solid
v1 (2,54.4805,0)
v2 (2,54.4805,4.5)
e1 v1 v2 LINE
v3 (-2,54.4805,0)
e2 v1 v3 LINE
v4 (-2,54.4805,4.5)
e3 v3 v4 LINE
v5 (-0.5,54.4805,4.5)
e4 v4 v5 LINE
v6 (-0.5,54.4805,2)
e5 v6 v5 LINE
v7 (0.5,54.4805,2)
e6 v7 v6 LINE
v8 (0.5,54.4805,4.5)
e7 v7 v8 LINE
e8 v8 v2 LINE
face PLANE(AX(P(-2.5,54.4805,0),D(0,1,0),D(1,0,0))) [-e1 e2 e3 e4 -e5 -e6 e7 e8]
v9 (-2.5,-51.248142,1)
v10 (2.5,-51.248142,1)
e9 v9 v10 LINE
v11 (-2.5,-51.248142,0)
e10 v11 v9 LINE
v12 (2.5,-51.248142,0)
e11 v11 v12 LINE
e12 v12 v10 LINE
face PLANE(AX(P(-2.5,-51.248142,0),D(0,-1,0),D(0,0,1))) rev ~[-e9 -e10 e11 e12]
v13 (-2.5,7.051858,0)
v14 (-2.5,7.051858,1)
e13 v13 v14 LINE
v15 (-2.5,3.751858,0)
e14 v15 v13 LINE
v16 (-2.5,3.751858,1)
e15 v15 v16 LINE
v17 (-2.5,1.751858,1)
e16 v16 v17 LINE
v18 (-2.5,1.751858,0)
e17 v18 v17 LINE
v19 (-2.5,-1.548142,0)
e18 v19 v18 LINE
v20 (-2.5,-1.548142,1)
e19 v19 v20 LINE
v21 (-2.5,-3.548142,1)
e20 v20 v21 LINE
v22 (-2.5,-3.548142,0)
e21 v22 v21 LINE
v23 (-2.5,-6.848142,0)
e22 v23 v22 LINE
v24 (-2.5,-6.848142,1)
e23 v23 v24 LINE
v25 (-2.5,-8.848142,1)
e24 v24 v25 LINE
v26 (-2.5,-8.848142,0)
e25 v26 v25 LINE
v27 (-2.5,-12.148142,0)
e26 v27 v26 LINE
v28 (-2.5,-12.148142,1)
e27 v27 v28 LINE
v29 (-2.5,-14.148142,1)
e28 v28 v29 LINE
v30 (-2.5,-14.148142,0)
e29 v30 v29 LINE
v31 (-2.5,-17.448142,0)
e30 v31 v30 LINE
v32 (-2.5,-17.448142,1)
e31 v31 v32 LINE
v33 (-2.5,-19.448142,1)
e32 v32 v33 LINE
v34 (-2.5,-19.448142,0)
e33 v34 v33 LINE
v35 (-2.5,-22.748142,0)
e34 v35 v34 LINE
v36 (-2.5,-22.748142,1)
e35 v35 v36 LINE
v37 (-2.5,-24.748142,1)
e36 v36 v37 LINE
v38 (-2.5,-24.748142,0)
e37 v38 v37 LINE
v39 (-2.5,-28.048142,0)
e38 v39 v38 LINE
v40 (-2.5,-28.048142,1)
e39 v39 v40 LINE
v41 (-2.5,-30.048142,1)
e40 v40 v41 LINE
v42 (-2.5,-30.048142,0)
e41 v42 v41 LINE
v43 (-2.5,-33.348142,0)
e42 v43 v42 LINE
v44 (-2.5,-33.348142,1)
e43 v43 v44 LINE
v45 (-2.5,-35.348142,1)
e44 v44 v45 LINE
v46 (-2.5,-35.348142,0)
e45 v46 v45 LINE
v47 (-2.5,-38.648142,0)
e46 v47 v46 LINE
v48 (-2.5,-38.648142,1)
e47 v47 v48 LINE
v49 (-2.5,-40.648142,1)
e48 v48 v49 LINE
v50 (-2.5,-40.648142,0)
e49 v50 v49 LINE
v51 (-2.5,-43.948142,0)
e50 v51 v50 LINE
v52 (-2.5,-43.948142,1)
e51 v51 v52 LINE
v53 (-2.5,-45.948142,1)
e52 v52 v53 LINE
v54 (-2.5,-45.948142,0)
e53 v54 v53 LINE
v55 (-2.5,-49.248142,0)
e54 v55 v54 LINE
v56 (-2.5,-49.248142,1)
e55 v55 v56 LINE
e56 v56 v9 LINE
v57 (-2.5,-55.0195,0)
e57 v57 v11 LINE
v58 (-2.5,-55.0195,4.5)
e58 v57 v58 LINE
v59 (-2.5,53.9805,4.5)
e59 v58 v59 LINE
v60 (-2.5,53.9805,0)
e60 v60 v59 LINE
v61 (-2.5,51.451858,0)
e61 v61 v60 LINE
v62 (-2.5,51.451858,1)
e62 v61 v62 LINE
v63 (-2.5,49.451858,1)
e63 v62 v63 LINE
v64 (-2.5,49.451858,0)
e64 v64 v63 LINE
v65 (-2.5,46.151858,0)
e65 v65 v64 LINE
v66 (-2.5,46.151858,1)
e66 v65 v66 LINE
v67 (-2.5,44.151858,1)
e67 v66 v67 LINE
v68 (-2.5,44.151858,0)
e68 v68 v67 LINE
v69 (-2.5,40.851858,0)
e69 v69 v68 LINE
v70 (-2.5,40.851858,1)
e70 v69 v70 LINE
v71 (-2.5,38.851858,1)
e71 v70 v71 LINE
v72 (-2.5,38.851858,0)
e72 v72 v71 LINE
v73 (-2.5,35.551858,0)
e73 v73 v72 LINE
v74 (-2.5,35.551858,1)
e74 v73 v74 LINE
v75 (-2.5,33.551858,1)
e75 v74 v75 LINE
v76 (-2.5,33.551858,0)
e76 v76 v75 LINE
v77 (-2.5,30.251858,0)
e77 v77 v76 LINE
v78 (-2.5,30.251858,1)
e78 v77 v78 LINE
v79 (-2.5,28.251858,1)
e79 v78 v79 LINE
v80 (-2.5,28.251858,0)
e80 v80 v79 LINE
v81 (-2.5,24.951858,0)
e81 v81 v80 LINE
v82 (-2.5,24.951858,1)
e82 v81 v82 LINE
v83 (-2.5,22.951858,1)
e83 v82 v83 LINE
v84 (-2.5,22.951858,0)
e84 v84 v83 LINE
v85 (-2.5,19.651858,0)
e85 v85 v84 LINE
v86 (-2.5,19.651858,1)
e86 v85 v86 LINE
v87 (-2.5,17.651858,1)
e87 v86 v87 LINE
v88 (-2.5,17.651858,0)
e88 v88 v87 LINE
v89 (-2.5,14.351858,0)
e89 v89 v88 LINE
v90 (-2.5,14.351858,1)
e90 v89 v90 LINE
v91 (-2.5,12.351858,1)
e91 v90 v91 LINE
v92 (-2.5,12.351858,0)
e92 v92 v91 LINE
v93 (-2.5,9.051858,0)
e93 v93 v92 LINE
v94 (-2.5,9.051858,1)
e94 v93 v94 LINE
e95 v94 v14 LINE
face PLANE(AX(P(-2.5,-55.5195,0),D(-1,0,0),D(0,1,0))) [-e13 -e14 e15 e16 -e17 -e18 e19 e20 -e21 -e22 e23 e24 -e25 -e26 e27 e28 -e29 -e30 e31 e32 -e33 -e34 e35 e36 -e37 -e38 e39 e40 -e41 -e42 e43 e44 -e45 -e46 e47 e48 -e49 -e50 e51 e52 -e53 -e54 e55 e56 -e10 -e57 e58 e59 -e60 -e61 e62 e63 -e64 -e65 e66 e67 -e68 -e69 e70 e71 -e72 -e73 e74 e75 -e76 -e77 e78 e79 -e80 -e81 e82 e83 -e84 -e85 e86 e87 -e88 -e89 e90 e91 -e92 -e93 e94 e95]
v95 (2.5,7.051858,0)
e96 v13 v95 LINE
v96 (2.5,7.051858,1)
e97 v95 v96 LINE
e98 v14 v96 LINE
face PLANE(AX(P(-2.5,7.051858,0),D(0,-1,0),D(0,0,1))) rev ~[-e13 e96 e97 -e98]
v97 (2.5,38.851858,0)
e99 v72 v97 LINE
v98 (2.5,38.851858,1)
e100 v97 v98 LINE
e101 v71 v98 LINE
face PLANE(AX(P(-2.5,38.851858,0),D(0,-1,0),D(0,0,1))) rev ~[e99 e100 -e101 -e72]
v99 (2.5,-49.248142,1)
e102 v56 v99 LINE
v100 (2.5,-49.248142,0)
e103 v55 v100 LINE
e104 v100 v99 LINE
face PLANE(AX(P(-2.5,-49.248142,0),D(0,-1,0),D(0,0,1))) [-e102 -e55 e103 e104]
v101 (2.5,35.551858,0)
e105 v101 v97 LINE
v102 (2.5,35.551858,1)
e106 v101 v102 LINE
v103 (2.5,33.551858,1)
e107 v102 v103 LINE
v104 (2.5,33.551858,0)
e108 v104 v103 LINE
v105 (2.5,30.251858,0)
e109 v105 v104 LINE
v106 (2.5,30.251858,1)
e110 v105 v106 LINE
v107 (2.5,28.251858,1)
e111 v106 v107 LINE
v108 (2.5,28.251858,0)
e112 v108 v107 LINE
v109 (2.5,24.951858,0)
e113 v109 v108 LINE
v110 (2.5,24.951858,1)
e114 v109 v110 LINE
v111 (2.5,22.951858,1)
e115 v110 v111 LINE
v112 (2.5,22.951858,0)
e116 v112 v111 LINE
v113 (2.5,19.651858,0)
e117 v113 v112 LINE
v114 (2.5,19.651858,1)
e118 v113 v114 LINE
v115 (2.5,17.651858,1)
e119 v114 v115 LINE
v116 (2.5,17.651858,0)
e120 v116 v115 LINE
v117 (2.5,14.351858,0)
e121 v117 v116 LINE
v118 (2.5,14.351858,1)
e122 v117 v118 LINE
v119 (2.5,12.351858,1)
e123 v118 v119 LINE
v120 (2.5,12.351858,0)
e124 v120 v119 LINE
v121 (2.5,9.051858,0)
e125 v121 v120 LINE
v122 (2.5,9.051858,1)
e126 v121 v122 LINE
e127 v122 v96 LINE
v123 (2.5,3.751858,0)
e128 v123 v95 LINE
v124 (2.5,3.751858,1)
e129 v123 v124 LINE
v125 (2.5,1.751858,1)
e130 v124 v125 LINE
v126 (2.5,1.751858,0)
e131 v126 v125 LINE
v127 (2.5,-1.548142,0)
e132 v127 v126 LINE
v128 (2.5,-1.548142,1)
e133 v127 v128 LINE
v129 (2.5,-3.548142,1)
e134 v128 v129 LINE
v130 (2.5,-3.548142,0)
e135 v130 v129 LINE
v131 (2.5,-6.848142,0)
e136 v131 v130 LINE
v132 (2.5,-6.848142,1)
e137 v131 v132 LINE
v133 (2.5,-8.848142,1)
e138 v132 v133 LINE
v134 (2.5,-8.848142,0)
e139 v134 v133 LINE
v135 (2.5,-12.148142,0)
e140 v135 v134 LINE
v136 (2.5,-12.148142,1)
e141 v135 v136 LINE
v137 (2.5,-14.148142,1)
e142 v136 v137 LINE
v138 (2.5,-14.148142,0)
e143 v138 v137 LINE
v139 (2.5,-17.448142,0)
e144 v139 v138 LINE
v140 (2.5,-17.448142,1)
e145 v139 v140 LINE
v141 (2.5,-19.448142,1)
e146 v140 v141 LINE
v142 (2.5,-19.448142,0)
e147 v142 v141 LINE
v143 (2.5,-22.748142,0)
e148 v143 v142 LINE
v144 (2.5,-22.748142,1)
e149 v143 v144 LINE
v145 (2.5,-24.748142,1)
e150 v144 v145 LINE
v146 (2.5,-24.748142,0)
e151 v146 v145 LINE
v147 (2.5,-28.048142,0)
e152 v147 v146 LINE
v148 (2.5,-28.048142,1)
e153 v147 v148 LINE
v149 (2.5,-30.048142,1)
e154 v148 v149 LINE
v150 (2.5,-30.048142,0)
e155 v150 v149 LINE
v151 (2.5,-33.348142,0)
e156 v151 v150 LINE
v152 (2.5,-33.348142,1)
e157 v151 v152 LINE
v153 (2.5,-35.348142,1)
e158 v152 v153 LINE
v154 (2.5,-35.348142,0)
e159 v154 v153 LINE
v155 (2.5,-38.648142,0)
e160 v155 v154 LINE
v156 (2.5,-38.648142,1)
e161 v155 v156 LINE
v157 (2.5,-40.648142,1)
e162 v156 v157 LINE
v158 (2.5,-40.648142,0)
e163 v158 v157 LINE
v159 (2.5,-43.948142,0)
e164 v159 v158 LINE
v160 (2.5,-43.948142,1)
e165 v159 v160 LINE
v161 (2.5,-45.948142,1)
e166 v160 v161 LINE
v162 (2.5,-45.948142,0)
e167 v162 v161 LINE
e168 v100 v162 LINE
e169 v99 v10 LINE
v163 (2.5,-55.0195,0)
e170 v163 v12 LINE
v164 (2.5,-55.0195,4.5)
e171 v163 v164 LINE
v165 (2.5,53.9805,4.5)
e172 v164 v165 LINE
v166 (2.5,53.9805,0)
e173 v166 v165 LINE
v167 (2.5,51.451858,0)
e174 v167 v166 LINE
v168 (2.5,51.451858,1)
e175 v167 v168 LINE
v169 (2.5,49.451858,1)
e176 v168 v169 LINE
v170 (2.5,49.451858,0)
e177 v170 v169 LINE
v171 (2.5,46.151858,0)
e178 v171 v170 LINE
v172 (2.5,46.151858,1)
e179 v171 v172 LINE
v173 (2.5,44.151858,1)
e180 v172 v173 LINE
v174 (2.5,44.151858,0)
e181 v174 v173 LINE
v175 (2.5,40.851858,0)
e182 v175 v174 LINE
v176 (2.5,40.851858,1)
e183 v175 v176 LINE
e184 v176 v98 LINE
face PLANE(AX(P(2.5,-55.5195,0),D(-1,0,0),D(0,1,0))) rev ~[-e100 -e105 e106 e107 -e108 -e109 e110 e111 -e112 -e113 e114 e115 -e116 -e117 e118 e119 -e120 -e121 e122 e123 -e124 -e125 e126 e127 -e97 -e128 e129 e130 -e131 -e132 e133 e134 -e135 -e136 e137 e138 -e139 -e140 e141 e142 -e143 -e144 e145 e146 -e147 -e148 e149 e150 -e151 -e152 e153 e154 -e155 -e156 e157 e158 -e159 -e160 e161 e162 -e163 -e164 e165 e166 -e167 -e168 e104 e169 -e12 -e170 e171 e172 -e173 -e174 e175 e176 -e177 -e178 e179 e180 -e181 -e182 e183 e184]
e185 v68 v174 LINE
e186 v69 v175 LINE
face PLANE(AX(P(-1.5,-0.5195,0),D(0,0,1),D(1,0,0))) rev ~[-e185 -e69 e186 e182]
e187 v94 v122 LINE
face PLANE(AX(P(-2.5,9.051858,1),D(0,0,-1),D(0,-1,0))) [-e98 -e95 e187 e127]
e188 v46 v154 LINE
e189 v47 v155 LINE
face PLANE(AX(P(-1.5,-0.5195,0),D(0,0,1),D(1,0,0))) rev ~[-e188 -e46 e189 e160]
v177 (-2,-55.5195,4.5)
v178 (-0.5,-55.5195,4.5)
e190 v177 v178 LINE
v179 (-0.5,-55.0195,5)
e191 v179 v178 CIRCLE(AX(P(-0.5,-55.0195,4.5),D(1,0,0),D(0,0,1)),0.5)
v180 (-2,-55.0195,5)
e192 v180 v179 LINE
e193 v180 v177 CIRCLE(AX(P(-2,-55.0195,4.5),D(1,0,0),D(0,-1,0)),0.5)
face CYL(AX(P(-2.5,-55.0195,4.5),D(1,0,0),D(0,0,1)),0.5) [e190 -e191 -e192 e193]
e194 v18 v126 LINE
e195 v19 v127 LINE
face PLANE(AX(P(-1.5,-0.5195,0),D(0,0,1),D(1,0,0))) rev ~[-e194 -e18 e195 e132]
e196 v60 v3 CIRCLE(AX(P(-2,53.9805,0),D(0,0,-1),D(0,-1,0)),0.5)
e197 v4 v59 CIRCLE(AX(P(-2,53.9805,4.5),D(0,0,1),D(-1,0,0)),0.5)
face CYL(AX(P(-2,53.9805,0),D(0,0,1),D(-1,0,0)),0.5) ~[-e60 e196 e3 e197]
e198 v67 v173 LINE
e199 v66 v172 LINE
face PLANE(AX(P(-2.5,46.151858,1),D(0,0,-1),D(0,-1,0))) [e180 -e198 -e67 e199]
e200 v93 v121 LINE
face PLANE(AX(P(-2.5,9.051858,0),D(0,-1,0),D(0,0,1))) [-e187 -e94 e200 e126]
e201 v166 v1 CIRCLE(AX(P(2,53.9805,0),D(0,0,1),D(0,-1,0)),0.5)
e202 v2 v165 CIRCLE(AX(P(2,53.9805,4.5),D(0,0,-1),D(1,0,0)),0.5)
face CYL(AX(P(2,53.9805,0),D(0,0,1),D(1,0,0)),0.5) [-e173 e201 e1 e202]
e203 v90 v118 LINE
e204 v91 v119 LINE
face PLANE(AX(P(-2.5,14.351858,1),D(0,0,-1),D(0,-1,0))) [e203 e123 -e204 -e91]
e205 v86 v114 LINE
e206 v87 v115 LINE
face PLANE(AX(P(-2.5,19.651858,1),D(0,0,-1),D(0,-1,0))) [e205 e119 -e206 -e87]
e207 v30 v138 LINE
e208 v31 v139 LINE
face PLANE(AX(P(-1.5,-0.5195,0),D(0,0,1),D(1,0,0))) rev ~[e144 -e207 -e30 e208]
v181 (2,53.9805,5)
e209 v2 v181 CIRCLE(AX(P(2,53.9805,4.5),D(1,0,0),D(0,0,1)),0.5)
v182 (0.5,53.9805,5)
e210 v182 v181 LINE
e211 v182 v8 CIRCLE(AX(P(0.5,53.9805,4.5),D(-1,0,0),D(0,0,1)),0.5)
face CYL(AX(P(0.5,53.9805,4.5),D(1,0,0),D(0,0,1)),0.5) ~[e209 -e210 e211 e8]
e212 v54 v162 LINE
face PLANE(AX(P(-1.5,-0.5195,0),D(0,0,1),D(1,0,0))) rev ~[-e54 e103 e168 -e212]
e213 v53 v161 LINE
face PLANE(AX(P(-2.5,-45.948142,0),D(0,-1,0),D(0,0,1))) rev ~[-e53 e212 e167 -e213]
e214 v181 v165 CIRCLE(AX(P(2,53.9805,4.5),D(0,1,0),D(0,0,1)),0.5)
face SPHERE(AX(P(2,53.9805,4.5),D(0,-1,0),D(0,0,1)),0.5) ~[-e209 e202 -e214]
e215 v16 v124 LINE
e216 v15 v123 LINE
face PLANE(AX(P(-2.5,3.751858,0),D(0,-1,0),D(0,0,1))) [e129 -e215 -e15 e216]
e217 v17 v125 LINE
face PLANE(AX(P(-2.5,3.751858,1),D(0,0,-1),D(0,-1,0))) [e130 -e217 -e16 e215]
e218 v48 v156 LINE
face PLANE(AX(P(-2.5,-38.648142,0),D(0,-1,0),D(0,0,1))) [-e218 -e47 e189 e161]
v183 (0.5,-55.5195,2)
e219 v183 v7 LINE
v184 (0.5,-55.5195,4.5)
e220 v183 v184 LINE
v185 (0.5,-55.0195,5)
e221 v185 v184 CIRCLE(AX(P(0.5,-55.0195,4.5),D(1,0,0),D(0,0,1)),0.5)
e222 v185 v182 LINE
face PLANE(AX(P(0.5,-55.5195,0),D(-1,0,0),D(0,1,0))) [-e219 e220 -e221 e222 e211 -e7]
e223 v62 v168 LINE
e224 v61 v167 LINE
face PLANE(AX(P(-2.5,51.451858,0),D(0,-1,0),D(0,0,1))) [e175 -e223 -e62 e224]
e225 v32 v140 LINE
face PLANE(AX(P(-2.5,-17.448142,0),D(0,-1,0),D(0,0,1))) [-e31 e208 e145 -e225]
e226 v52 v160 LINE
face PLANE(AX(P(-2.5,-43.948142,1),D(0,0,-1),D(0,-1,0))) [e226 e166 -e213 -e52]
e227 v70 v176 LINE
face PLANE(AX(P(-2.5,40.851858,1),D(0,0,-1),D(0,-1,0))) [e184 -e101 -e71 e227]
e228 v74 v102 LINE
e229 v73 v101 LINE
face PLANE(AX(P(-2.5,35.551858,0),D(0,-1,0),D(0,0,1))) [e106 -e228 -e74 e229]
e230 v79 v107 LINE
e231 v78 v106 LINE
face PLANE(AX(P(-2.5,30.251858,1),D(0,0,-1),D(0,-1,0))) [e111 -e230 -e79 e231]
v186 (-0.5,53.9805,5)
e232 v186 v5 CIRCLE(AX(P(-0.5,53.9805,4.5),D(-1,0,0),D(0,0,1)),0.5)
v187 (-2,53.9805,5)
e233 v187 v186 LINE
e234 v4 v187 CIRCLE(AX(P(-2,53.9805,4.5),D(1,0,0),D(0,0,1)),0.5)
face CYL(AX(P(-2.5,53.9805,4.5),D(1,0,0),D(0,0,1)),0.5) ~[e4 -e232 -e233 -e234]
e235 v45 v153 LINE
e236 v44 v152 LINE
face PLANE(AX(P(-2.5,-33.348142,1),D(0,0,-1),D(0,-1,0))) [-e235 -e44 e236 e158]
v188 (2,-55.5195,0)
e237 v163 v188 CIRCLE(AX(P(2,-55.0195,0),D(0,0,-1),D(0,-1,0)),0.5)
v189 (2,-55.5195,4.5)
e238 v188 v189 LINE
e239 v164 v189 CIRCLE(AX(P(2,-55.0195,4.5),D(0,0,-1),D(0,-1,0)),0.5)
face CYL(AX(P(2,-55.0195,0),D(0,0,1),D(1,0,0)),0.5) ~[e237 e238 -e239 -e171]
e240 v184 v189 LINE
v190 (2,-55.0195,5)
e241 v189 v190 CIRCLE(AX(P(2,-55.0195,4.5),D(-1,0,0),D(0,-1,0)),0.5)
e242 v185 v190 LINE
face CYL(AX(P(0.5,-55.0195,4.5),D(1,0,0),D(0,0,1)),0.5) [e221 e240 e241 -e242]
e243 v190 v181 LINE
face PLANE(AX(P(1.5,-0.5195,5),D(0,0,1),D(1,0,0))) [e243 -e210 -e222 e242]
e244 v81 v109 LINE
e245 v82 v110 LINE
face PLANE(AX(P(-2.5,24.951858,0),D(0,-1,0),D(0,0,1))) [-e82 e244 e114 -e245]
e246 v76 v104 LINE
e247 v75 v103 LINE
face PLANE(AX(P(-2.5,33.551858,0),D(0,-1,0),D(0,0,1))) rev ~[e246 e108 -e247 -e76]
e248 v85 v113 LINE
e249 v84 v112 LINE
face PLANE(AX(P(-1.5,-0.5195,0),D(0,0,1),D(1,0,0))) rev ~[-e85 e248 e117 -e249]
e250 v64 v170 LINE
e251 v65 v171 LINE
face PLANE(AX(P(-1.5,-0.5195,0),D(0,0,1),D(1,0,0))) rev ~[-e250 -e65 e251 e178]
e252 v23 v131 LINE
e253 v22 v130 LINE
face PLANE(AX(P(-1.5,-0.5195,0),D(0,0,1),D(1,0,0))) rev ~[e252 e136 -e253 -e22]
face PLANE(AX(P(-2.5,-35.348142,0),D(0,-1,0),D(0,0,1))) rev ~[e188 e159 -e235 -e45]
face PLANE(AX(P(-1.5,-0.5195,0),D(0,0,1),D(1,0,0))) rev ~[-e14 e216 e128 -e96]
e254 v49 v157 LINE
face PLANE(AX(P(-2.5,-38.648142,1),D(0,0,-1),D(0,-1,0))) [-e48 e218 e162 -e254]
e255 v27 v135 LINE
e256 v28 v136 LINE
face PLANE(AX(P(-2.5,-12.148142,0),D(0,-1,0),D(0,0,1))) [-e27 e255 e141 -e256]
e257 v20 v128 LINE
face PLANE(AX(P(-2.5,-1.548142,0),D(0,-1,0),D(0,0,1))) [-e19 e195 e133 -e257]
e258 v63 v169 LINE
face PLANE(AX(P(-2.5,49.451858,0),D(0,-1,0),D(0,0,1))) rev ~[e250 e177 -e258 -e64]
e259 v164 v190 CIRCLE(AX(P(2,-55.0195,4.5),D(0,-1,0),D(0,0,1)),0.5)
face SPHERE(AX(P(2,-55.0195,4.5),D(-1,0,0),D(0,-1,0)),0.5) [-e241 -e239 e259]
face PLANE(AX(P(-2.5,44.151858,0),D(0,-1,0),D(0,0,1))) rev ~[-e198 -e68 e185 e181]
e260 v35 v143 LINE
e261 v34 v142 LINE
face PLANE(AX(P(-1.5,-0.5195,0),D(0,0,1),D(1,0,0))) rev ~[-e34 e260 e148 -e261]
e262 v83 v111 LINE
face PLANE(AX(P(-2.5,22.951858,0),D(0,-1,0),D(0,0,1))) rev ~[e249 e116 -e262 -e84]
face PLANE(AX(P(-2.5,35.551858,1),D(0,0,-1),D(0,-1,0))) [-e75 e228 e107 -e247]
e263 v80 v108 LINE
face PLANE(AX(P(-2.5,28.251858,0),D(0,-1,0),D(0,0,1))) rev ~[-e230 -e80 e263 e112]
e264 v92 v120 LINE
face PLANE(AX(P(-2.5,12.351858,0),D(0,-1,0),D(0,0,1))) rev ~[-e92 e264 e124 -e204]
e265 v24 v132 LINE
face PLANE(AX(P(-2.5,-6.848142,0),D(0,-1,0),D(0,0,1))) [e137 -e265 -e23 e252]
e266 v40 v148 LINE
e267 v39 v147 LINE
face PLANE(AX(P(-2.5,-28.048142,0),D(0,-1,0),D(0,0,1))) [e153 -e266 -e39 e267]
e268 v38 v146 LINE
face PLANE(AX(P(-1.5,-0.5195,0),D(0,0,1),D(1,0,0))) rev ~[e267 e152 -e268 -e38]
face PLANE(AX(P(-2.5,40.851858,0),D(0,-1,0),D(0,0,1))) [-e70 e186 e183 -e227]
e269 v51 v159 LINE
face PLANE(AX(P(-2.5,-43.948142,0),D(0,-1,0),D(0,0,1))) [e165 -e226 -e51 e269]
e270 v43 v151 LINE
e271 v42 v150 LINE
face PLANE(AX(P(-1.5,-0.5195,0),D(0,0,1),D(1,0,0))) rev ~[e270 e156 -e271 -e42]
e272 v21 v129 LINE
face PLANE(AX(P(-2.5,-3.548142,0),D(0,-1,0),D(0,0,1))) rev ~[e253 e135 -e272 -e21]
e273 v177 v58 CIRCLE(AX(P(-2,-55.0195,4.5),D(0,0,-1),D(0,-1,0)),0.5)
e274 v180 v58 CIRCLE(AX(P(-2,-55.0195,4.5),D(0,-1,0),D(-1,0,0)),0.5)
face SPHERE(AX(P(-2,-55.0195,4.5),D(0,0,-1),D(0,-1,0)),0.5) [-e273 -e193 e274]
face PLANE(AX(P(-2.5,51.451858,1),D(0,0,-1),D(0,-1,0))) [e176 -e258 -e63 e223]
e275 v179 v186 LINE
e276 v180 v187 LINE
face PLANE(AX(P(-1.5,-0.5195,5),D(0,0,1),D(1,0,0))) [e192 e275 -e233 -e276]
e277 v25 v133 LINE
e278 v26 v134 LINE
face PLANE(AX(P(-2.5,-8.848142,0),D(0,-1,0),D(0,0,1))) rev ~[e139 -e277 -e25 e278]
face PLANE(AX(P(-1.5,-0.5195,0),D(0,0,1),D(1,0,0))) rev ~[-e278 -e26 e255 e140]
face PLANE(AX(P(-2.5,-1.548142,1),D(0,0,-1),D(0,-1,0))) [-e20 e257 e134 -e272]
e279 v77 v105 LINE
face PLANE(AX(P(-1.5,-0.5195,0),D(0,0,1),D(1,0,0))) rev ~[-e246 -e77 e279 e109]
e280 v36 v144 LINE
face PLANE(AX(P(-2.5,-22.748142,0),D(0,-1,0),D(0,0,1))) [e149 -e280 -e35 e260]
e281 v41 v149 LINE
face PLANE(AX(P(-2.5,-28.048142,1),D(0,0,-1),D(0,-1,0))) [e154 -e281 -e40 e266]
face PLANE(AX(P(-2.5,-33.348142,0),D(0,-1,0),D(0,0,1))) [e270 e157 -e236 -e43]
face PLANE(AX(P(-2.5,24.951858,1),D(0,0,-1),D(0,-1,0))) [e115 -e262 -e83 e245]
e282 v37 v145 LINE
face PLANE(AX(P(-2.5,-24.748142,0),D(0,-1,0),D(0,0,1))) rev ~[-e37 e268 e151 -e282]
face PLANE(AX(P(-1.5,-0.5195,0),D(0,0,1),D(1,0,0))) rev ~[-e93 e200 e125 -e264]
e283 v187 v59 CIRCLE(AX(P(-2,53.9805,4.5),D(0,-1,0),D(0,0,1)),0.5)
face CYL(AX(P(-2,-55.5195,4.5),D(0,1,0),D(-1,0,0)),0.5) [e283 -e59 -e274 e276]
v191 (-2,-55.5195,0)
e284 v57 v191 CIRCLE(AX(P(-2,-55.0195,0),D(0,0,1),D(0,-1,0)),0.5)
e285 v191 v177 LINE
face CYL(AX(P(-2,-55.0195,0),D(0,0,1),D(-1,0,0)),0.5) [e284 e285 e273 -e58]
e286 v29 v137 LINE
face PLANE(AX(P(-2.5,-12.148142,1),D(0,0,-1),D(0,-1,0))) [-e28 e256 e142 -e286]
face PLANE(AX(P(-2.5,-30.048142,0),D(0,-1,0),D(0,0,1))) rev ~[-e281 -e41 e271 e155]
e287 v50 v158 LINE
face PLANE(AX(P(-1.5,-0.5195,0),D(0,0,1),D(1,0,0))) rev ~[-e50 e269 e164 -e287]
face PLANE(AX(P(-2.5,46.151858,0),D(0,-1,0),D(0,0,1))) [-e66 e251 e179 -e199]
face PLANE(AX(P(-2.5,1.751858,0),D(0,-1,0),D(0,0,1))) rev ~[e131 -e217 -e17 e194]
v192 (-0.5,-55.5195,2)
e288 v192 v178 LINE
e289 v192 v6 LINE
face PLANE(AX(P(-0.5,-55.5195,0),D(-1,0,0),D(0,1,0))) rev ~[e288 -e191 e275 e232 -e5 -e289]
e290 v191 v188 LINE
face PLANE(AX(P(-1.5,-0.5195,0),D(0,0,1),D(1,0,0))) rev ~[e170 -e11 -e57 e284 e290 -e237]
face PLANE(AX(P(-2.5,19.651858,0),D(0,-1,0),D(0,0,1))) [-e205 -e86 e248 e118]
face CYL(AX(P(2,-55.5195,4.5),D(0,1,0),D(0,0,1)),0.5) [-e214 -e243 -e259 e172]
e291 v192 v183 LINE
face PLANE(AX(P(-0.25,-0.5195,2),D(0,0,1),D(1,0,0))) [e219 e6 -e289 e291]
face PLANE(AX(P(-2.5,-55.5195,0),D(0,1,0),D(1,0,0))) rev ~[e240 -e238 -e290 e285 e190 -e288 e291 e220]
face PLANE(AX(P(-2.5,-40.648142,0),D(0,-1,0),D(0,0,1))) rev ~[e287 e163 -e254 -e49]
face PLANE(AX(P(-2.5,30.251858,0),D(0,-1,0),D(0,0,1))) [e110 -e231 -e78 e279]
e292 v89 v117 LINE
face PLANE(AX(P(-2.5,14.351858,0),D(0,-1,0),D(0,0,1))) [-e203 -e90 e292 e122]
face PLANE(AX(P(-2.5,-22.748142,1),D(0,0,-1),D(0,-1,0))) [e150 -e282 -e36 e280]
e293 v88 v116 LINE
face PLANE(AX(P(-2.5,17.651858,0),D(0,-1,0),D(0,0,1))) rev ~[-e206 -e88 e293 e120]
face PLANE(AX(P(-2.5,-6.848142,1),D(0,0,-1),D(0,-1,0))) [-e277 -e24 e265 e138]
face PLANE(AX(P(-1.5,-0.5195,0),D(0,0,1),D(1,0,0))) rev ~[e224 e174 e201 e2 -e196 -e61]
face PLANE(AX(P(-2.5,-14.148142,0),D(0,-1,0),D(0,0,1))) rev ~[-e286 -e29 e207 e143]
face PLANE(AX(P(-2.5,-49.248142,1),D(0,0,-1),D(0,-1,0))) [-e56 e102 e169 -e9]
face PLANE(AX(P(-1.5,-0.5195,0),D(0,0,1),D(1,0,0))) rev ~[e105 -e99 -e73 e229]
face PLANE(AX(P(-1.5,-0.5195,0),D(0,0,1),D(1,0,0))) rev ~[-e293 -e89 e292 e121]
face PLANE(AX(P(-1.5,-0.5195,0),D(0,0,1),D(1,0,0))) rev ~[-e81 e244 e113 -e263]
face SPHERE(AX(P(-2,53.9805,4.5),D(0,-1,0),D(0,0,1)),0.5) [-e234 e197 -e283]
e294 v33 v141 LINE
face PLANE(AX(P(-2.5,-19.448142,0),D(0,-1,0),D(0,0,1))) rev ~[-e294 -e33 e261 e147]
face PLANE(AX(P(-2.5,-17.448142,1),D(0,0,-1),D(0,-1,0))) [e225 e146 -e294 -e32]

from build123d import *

# Parameters (mm, degrees)
F0_W     = 0.5
F0_H     = 110
F1_DEPTH = 2
F0_W_2   = 2
F2_DEPTH = 5
F3_R     = 0.5
F4_W     = 2
F4_H     = 1
F5_DEPTH = 28.67605


with BuildPart() as f1:
    # F0 (on Top) → F1 (new body)
    with BuildSketch(Plane.XY):
        with Locations((-0.25, -0.5195)):
            Rectangle(F0_W, F0_H)
        with Locations((0.25, -0.5195)):
            Rectangle(F0_W, F0_H)
    extrude(amount=F1_DEPTH)

    # F0 (on Top) → F2 (join)
    with BuildSketch(Plane.XY):
        with Locations((-1.5, -0.5195)):
            Rectangle(F0_W_2, F0_H)
        with Locations((1.5, -0.5195)):
            Rectangle(F0_W_2, F0_H)
    extrude(amount=F2_DEPTH)

    # F3
    f3_edges = [f1.edges().sort_by_distance(p)[0] for p in [
        (-2.5, -55.5195, 2.5),
        (-1.5, -55.5195, 5),
        (1.5, -55.5195, 5),
        (2.5, -55.5195, 2.5),
        (2.5, -0.5195, 5),
        (-2.5, -0.5195, 5),
        (-1.5, 54.4805, 5),
        (1.5, 54.4805, 5),
        (2.5, 54.4805, 2.5),
        (-2.5, 54.4805, 2.5),
    ]]
    fillet(f3_edges, radius=F3_R)

    # F4 (on face) → F5 (cut)
    with BuildSketch(Plane(origin=(-2.5, 0, 0), x_dir=(0, -1, 0), z_dir=(-1, 0, 0))):
        with Locations((-50.451858, 0.5)):
            Rectangle(F4_W, F4_H)
        with Locations((-45.151858, 0.5)):
            Rectangle(F4_W, F4_H)
        with Locations((-39.851858, 0.5)):
            Rectangle(F4_W, F4_H)
        with Locations((-34.551858, 0.5)):
            Rectangle(F4_W, F4_H)
        with Locations((-29.251858, 0.5)):
            Rectangle(F4_W, F4_H)
        with Locations((-23.951858, 0.5)):
            Rectangle(F4_W, F4_H)
        with Locations((-18.651858, 0.5)):
            Rectangle(F4_W, F4_H)
        with Locations((-13.351858, 0.5)):
            Rectangle(F4_W, F4_H)
        with Locations((-8.051858, 0.5)):
            Rectangle(F4_W, F4_H)
        with Locations((-2.751858, 0.5)):
            Rectangle(F4_W, F4_H)
        with Locations((2.548142, 0.5)):
            Rectangle(F4_W, F4_H)
        with Locations((7.848142, 0.5)):
            Rectangle(F4_W, F4_H)
        with Locations((13.148142, 0.5)):
            Rectangle(F4_W, F4_H)
        with Locations((18.448142, 0.5)):
            Rectangle(F4_W, F4_H)
        with Locations((23.748142, 0.5)):
            Rectangle(F4_W, F4_H)
        with Locations((29.048142, 0.5)):
            Rectangle(F4_W, F4_H)
        with Locations((34.348142, 0.5)):
            Rectangle(F4_W, F4_H)
        with Locations((39.648142, 0.5)):
            Rectangle(F4_W, F4_H)
        with Locations((44.948142, 0.5)):
            Rectangle(F4_W, F4_H)
        with Locations((50.248142, 0.5)):
            Rectangle(F4_W, F4_H)
    extrude(amount=-F5_DEPTH, mode=Mode.SUBTRACT)


solid = f1.part
